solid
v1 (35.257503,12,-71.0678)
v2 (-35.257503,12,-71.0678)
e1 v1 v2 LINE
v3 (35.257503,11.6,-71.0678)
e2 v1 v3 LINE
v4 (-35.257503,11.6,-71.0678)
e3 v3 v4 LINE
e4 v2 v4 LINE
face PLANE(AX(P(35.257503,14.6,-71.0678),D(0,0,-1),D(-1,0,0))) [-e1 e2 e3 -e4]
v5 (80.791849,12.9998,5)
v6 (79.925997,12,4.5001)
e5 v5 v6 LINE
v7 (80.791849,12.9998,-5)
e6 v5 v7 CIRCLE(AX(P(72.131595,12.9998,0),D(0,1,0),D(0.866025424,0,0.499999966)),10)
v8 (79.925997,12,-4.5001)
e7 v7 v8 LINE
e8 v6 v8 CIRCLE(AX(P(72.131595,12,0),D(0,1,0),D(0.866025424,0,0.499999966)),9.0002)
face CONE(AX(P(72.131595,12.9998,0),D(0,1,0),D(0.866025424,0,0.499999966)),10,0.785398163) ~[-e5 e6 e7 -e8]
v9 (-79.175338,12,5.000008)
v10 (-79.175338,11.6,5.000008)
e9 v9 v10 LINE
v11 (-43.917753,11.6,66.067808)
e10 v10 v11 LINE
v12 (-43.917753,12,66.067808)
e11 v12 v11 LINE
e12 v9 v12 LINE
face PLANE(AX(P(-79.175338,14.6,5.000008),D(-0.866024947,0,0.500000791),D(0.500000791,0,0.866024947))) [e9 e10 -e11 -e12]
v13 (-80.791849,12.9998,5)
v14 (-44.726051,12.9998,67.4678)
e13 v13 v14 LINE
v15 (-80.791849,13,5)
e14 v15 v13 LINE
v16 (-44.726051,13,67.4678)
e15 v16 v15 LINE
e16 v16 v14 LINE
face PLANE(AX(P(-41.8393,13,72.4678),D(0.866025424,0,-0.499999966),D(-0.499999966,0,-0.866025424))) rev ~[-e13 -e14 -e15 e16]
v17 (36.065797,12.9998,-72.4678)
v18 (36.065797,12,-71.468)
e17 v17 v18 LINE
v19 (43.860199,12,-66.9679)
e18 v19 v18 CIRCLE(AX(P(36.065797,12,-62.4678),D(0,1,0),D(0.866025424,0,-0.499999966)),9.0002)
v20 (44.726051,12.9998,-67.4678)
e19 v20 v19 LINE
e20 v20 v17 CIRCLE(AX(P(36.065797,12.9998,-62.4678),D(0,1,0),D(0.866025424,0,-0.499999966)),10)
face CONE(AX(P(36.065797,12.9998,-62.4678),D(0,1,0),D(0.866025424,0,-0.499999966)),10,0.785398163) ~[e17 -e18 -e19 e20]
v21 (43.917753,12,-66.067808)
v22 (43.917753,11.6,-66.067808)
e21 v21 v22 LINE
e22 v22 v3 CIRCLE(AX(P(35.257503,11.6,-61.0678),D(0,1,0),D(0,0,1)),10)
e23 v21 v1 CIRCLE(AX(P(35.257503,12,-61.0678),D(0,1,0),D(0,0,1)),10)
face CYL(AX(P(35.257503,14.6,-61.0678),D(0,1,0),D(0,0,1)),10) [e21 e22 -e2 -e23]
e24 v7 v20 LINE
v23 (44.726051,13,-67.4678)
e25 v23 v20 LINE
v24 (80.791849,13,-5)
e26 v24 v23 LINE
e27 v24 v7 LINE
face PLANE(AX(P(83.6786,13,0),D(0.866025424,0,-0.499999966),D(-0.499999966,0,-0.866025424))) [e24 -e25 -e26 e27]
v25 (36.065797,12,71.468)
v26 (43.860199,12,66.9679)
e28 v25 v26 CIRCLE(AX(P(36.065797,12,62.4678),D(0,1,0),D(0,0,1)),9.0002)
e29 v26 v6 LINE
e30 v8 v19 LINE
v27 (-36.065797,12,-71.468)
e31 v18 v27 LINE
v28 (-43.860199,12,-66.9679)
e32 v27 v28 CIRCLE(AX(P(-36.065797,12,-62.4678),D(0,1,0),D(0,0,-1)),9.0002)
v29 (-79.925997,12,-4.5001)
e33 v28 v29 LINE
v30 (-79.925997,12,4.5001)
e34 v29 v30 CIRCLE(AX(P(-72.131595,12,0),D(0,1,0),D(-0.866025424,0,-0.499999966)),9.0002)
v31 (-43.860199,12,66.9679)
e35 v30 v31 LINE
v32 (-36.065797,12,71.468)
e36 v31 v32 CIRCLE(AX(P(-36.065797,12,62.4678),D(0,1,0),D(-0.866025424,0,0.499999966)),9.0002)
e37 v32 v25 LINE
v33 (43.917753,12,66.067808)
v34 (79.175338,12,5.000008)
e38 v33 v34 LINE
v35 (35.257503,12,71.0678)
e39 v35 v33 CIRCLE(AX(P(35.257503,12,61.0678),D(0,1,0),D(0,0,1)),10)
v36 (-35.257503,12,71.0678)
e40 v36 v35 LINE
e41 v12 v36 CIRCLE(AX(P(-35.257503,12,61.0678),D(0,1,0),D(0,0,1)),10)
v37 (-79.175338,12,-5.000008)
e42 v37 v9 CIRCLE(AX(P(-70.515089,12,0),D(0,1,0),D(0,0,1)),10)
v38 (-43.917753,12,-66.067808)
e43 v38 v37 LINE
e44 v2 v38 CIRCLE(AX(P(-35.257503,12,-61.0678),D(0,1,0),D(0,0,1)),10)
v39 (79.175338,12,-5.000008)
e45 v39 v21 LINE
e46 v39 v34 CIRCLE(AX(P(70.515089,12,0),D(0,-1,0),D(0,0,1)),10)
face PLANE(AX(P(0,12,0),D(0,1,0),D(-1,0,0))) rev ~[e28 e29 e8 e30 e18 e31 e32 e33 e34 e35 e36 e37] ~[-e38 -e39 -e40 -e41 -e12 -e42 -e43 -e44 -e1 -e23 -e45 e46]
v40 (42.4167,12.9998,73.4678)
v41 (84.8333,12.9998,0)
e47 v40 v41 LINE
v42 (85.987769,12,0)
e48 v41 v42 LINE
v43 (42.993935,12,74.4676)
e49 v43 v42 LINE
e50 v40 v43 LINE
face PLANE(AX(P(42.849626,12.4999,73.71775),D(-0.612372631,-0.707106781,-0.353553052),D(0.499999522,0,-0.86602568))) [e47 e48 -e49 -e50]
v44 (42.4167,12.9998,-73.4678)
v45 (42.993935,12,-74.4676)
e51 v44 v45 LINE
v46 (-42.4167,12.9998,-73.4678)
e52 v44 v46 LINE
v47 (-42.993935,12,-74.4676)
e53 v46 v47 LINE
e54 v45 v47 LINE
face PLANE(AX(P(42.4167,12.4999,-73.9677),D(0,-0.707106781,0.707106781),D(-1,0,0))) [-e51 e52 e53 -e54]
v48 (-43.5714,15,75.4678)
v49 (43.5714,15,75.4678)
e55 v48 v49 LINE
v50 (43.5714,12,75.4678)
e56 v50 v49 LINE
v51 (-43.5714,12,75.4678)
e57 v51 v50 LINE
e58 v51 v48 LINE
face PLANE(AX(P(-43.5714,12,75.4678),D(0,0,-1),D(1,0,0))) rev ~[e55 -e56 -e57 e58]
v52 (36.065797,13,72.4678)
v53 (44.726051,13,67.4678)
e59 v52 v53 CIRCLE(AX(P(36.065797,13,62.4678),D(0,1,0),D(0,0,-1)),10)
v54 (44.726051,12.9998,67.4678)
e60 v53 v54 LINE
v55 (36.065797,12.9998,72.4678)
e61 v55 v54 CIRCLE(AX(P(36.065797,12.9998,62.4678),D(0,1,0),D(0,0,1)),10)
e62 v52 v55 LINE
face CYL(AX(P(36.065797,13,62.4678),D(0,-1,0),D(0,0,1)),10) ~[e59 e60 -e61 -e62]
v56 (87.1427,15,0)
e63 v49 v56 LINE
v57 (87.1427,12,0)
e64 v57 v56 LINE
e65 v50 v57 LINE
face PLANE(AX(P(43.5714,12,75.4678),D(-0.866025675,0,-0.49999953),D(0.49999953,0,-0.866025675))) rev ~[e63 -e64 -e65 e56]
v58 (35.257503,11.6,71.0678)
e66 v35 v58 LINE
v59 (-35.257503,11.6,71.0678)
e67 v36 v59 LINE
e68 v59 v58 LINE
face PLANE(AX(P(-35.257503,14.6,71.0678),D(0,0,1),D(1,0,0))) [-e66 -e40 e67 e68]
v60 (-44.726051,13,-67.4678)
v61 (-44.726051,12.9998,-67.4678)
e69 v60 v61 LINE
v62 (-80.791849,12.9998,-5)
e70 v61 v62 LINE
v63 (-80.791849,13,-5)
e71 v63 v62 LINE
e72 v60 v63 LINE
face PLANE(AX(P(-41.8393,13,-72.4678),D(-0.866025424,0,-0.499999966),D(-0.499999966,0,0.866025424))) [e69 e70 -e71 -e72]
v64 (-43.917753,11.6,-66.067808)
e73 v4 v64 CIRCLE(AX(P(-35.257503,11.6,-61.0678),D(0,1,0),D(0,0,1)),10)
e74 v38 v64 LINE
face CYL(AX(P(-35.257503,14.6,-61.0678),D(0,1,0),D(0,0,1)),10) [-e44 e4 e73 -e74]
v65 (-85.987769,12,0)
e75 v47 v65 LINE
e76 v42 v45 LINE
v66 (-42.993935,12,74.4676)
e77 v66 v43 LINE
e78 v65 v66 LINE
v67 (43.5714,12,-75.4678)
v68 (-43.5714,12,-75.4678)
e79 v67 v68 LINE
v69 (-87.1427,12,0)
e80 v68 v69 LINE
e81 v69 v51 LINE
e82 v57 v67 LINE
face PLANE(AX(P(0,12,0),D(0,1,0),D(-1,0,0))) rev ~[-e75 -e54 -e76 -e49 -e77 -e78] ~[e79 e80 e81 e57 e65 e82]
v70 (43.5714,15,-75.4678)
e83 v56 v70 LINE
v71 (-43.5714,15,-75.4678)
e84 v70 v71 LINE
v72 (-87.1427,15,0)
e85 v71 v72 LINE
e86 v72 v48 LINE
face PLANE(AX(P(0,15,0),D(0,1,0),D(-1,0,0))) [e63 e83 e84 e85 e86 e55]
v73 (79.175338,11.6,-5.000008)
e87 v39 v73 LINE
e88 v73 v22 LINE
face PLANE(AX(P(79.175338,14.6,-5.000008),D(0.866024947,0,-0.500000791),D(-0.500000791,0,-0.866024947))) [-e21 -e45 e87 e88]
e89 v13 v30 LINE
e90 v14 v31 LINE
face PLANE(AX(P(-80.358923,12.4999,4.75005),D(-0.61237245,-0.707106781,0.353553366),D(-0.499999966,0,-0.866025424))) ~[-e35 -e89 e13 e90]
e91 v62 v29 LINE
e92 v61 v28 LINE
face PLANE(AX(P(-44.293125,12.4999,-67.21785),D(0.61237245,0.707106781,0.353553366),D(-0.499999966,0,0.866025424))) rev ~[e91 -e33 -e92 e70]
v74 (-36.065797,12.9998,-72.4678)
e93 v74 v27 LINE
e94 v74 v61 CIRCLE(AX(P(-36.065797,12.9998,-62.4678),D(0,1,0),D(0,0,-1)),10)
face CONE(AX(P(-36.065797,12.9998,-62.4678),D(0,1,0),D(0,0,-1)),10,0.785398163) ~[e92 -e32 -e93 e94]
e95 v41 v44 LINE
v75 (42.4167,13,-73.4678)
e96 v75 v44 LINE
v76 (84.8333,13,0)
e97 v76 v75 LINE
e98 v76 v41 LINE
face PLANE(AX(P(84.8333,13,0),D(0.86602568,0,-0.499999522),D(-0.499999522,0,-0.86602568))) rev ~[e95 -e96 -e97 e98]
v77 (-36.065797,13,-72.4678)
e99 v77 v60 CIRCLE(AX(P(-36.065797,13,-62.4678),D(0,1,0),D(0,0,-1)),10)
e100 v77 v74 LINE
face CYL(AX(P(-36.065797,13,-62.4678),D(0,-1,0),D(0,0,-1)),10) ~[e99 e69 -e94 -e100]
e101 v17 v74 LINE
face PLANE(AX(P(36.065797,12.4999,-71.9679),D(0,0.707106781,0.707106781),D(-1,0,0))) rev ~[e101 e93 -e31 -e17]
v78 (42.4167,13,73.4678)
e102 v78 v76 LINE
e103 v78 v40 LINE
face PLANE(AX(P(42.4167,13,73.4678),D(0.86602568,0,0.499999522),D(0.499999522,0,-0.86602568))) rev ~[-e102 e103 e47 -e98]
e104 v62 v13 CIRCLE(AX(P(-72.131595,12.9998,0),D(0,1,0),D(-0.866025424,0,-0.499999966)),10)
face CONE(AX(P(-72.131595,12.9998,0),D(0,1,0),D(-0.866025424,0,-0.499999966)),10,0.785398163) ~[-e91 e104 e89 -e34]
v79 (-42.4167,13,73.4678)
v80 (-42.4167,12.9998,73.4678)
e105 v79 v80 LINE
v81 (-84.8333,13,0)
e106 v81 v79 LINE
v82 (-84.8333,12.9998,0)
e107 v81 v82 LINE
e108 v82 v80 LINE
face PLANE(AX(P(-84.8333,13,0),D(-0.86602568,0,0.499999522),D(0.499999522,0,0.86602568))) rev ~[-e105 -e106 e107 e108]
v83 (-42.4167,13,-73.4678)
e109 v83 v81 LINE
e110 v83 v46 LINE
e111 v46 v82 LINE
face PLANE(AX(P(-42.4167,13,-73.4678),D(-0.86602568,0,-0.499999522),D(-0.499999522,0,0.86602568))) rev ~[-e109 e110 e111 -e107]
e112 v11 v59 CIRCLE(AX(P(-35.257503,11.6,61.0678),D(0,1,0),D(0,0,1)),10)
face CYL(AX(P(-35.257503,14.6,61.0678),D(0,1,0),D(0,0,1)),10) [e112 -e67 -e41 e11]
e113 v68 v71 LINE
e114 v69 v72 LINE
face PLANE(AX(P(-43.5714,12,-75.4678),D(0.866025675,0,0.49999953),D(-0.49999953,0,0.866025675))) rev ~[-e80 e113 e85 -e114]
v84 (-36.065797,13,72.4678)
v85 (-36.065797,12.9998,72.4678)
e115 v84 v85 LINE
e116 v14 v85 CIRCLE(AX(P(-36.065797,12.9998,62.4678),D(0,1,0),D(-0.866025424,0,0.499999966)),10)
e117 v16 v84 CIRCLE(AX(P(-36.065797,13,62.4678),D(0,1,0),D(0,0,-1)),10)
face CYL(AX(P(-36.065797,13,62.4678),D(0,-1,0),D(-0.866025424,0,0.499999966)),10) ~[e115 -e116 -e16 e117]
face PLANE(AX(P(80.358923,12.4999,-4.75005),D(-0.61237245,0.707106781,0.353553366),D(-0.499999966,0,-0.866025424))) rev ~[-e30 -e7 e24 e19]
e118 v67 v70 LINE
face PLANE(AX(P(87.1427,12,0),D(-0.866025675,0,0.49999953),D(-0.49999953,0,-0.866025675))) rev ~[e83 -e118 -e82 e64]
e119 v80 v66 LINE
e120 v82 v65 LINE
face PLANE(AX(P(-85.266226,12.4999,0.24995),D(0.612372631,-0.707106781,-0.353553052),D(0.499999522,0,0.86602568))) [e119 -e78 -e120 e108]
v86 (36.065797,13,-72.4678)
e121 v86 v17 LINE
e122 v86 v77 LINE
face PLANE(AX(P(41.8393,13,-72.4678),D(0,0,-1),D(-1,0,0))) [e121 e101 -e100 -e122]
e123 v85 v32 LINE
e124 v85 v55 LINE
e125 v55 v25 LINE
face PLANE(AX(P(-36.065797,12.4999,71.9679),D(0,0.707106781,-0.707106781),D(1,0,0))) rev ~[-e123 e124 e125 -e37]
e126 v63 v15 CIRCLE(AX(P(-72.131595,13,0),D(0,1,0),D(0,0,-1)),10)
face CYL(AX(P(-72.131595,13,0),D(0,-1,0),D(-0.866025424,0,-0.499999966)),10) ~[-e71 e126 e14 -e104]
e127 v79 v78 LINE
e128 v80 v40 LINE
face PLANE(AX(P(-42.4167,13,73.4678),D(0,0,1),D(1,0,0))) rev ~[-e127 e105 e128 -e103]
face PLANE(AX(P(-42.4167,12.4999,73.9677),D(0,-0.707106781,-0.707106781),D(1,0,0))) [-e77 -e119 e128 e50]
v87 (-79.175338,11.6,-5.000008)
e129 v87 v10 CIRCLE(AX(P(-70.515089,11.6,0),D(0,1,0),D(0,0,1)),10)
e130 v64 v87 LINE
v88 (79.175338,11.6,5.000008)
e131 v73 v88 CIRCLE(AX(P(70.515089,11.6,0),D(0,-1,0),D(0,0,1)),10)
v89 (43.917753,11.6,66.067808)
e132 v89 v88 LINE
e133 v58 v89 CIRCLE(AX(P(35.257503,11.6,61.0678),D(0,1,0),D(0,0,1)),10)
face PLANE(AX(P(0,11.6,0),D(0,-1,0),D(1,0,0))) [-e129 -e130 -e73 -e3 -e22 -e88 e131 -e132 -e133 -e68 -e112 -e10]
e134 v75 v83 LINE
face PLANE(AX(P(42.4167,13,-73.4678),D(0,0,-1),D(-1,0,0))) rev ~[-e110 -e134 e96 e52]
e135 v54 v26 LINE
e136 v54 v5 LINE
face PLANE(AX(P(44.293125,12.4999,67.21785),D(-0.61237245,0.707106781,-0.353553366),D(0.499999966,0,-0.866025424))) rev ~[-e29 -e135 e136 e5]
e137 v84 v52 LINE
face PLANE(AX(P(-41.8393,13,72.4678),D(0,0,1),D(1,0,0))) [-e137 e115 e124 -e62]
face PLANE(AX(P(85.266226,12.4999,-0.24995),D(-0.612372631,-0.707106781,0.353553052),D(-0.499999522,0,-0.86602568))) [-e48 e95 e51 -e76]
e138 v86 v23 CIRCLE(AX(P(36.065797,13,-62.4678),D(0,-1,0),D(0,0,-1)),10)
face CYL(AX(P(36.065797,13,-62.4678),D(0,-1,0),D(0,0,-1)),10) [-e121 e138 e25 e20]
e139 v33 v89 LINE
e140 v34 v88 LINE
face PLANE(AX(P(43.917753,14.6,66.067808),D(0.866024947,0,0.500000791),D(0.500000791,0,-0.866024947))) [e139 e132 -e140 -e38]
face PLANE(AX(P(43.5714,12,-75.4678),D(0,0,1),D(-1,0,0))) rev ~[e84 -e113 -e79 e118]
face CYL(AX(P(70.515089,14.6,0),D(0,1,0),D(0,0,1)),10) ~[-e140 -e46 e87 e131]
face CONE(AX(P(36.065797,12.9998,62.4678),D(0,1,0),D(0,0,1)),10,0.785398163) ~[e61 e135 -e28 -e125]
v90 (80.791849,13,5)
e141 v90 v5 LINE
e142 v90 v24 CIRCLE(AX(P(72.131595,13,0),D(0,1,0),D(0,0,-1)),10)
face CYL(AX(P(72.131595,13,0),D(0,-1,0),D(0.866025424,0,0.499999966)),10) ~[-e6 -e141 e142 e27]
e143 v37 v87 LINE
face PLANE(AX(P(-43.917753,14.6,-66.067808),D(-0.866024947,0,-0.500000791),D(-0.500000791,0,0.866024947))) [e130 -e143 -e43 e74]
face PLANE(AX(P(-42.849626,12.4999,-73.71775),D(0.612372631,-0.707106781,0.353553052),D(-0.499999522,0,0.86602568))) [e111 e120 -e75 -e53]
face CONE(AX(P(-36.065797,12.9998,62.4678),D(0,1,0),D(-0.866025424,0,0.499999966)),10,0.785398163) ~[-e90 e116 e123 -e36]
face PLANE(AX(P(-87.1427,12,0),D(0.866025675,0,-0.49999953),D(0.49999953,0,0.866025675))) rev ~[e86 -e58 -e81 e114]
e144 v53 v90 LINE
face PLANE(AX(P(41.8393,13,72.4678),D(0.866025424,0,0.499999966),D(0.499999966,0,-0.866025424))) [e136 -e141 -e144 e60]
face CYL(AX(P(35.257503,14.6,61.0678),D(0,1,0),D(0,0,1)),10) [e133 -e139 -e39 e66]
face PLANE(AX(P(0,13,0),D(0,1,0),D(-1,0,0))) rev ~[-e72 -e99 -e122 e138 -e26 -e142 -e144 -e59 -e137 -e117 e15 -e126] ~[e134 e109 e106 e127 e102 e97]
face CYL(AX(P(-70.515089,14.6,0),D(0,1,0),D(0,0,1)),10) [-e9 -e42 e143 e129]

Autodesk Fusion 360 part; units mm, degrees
sketch "Sketch1" plane through (0, 12, 0) normal (0, -1, 0) x (1, 0, 0)
  line L0 (-41.8393, 72.4678) -> (-83.6786, 0)
  line L1 (-83.6786, 0) -> (-41.8393, -72.4678)
  line L2 (-41.8393, -72.4678) -> (41.8393, -72.4678)
  line L3 (41.8393, -72.4678) -> (83.6786, 0)
  line L4 (83.6786, 0) -> (41.8393, 72.4678)
  line L5 (41.8393, 72.4678) -> (-41.8393, 72.4678)
  line L6 (-41.8393, 72.4678) -> (41.8393, 72.4678)
  line L7 (41.8393, 72.4678) -> (83.6786, 0)
  line L8 (83.6786, 0) -> (41.8393, -72.4678)
  line L9 (41.8393, -72.4678) -> (-41.8393, -72.4678)
  line L10 (-41.8393, -72.4678) -> (-83.6786, 0)
  line L11 (-83.6786, 0) -> (-41.8393, 72.4678)
  line L12 (82.0621, 0) -> (41.031, -71.0678)
  line L13 (41.031, -71.0678) -> (-41.031, -71.0678)
  line L14 (-41.031, -71.0678) -> (-82.0621, 0)
  line L15 (-82.0621, 0) -> (-41.031, 71.0678)
  line L16 (-41.031, 71.0678) -> (41.031, 71.0678)
  line L17 (41.031, 71.0678) -> (82.0621, 0)
  dimension "d1" = 1.4
sketch "Sketch2" plane through (0, 12, 0) normal (0, 1, 0) x (-1, 0, 0)
  line L0 (-42.4167, 73.4678) -> (42.4167, 73.4678)
  line L1 (42.4167, 73.4678) -> (84.8333, 0)
  line L2 (84.8333, 0) -> (42.4167, -73.4678)
  line L3 (42.4167, -73.4678) -> (-42.4167, -73.4678)
  line L4 (-42.4167, -73.4678) -> (-84.8333, 0)
  line L5 (-84.8333, 0) -> (-42.4167, 73.4678)
  line L6 (-43.5714, 75.4678) -> (-87.1427, 0)
  line L7 (-87.1427, 0) -> (-43.5714, -75.4678)
  line L8 (-43.5714, -75.4678) -> (43.5714, -75.4678)
  line L9 (43.5714, -75.4678) -> (87.1427, 0)
  line L10 (87.1427, 0) -> (43.5714, 75.4678)
  line L11 (43.5714, 75.4678) -> (-43.5714, 75.4678)
  line L12 (-43.5714, 75.4678) -> (43.5714, 75.4678)
  line L13 (87.1427, 0) -> (43.5714, 75.4678)
  line L14 (87.1427, 0) -> (43.5714, -75.4678)
  line L15 (43.5714, -75.4678) -> (-43.5714, -75.4678)
  line L16 (-43.5714, -75.4678) -> (-87.1427, 0)
  line L17 (-87.1427, 0) -> (-43.5714, 75.4678)
sketch "Sketch3" plane through (0, 4, 0) normal (0, 1, 0) x (-1, 0, 0)
  line L0 (-38.9526, -67.4678) -> (-77.9051, 0)
  line L1 (-77.9051, 0) -> (-38.9526, 67.4678)
  line L2 (-38.9526, 67.4678) -> (38.9526, 67.4678)
  line L3 (38.9526, 67.4678) -> (77.9051, 0)
  line L4 (77.9051, 0) -> (38.9526, -67.4678)
  line L5 (38.9526, -67.4678) -> (-38.9526, -67.4678)
  line L6 (-84.8333, 0) -> (-42.4167, -73.4678)
  line L7 (-42.4167, -73.4678) -> (42.4167, -73.4678)
  line L8 (42.4167, -73.4678) -> (84.8333, 0)
  line L9 (84.8333, 0) -> (42.4167, 73.4678)
  line L10 (42.4167, 73.4678) -> (-42.4167, 73.4678)
  line L11 (-42.4167, 73.4678) -> (-84.8333, 0)
  line L12 (42.4167, -73.4678) -> (84.8333, 0)
  line L13 (42.4167, 73.4678) -> (84.8333, 0)
  line L14 (42.4167, 73.4678) -> (-42.4167, 73.4678)
  line L15 (-42.4167, 73.4678) -> (-84.8333, 0)
  line L16 (-84.8333, 0) -> (-42.4167, -73.4678)
  line L17 (-42.4167, -73.4678) -> (42.4167, -73.4678)
  line L18 (-42.4167, 73.4678) -> (-84.8333, 0)
  line L19 (-41.8393, -72.4678) -> (41.8393, -72.4678)
  line L20 (41.8393, -72.4678) -> (83.6786, 0)
  line L21 (41.8393, 72.4678) -> (83.6786, 0)
  line L22 (41.8393, 72.4678) -> (-41.8393, 72.4678)
  line L23 (-41.8393, 72.4678) -> (-83.6786, 0)
  line L24 (-83.6786, 0) -> (-41.8393, -72.4678)
  line L25 (41.031, 71.0678) -> (-41.031, 71.0678)
  line L26 (-41.031, 71.0678) -> (-82.0621, 0)
  line L27 (-82.0621, 0) -> (-41.031, -71.0678)
  line L28 (-41.031, -71.0678) -> (41.031, -71.0678)
  line L29 (41.031, -71.0678) -> (82.0621, 0)
  line L30 (41.031, 71.0678) -> (82.0621, 0)
  dimension "d2" = -1
  dimension "d3" = -2.4
sketch "Sketch4" plane through (0, 13, 0) normal (0, -1, 0) x (1, 0, 0)
  arc A0 (44.7261, 67.4678) -> (36.0658, 72.4678) centre (36.0658, 62.4678) ccw
  line L0 (44.7261, 67.4678) -> (80.7919, 5)
  arc A1 (80.7919, -5) -> (80.7919, 5) centre (72.1316, 0) ccw
  line L1 (80.7919, -5) -> (44.7261, -67.4678)
  arc A2 (36.0658, -72.4678) -> (44.7261, -67.4678) centre (36.0658, -62.4678) ccw
  line L2 (36.0658, -72.4678) -> (-36.0658, -72.4678)
  arc A3 (-44.7261, -67.4678) -> (-36.0658, -72.4678) centre (-36.0658, -62.4678) ccw
  line L3 (-44.7261, -67.4678) -> (-80.7919, -5)
  arc A4 (-80.7919, 5) -> (-80.7919, -5) centre (-72.1316, 0) ccw
  line L4 (-80.7919, 5) -> (-44.7261, 67.4678)
  arc A5 (-36.0658, 72.4678) -> (-44.7261, 67.4678) centre (-36.0658, 62.4678) ccw
  line L5 (-36.0658, 72.4678) -> (36.0658, 72.4678)
  line L6 (42.4167, 73.4678) -> (-42.4167, 73.4678)
  line L7 (-42.4167, 73.4678) -> (-84.8333, 0)
  line L8 (-84.8333, 0) -> (-42.4167, -73.4678)
  line L9 (-42.4167, -73.4678) -> (42.4167, -73.4678)
  line L10 (42.4167, -73.4678) -> (84.8333, 0)
  line L11 (84.8333, 0) -> (42.4167, 73.4678)
  line L12 (-42.4167, 73.4678) -> (-32.4167, 73.4678)
  line L13 (-42.4167, 73.4678) -> (-47.4167, 64.8076)
  line L14 (-32.4167, 73.4678) -> (-32.4167, 56.1473)
  line L15 (-47.4167, 64.8076) -> (-32.4167, 56.1473)
  dimension "d4" = 10
  dimension "d5" = 0
extrude "Extrude1" add sketch "Sketch2" along normal blind 3 contours L0 L1 L2 L3 L4 L5 | L6 L7 L8 L9 L10 L11 L12 L13 L14 L15 L16 L17
extrude "Extrude2" cut sketch "Sketch3" along normal blind -1 and the other way blind -9 contours L6 L7 L8 L9 L10 L11 L12 L13 L14 L15 L16 L17 L18
move_face "OffsetFaces1" [suppressed]
extrude "Extrude3" cut sketch "Sketch1" against normal blind 2.6 contours L12 L13 L14 L15 L16 L17
fillet "Fillet1" radius 10 6 edges at (-83.6786, 12.5, 0) (-41.8393, 12.5, 72.4678) (41.8393, 12.5, 72.4678) (83.6786, 12.5, 0) (41.8393, 12.5, -72.4678) (-41.8393, 12.5, -72.4678)
fillet "Fillet1" radius 10 6 edges at (-41.031, 13.3, 71.0678) (-82.0621, 13.3, 0) (-41.031, 13.3, -71.0678) (41.031, 13.3, -71.0678) (82.0621, 13.3, 0) (41.031, 13.3, 71.0678)
chamfer "Chamfer1" distance 1 angle 45 18 edges at (63.625, 12, 36.7339) (63.625, 12, -36.7339) (82.1316, 12, 0) (62.759, 12, -36.2339) (41.0658, 12, -71.1281) (0, 12, -72.4678) (-41.0658, 12, -71.1281) (-62.759, 12, -36.2339) (-82.1316, 12, 0) (-62.759, 12, 36.2339) (-41.0658, 12, 71.1281) (0, 12, 72.4678) (41.0658, 12, 71.1281) (62.759, 12, 36.2339) (0, 12, 73.4678) (-63.625, 12, 36.7339) (-63.625, 12, -36.7339) (0, 12, -73.4678)
sketch "Sketch5" plane through (0, 14.6, 0) normal (0, -1, 0) x (1, 0, 0)
  arc A0 (43.9178, 66.0678) -> (35.2575, 71.0678) centre (35.2575, 61.0678) ccw
  line L0 (35.2575, 71.0678) -> (-35.2575, 71.0678)
  arc A1 (-35.2575, 71.0678) -> (-43.9178, 66.0678) centre (-35.2575, 61.0678) ccw
  line L1 (-43.9178, 66.0678) -> (-79.1753, 5)
  arc A2 (-79.1753, 5) -> (-79.1753, -5) centre (-70.515, 0) ccw
  line L2 (-79.1753, -5) -> (-43.9178, -66.0678)
  arc A3 (-43.9178, -66.0678) -> (-35.2575, -71.0678) centre (-35.2575, -61.0678) ccw
  line L3 (-35.2575, -71.0678) -> (35.2575, -71.0678)
  arc A4 (35.2575, -71.0678) -> (43.9178, -66.0678) centre (35.2575, -61.0678) ccw
  line L4 (43.9178, -66.0678) -> (79.1753, -5)
  arc A5 (79.1753, -5) -> (79.1753, 5) centre (70.515, 0) ccw
  line L5 (79.1753, 5) -> (43.9178, 66.0678)
  line L6 (0, 0) -> (-80.515, 0)
  line L7 (-40.2575, 69.7281) -> (0, 0)
  line L8 (40.2575, 69.7281) -> (-40.2575, -69.7281)
  line L9 (40.2575, -69.7281) -> (0, 0)
  line L10 (80.515, 0) -> (0, 0)
extrude "Extrude11" add 1 faces at (2.8868, 14.6, -1.6667) along direction (0, -1, 0) blind 3
extrude "Extrude5" [suppressed]
extrude "Extrude6" [suppressed]
extrude "Extrude7" [suppressed]
extrude "Extrude8" [suppressed]
extrude "Extrude9" [suppressed]
sketch "Sketch6" plane through (0, 12, 0) normal (0, -1, 0) x (1, 0, 0)
  line L0 (-35.2575, 71.0678) -> (35.2575, 71.0678)
  arc A0 (43.9178, 66.0678) -> (35.2575, 71.0678) centre (35.2575, 61.0678) ccw
  line L1 (43.9178, 66.0678) -> (79.1753, 5)
  arc A1 (79.1753, -5) -> (79.1753, 5) centre (70.515, 0) ccw
  line L2 (79.1753, -5) -> (43.9178, -66.0678)
  arc A2 (35.2575, -71.0678) -> (43.9178, -66.0678) centre (35.2575, -61.0678) ccw
  line L3 (35.2575, -71.0678) -> (-35.2575, -71.0678)
  arc A3 (-43.9178, -66.0678) -> (-35.2575, -71.0678) centre (-35.2575, -61.0678) ccw
  line L4 (-43.9178, -66.0678) -> (-79.1753, -5)
  arc A4 (-79.1753, 5) -> (-79.1753, -5) centre (-70.515, 0) ccw
  line L5 (-79.1753, 5) -> (-43.9178, 66.0678)
  line L6 (-43.86, 66.9678) -> (-79.9259, 4.5)
  arc A5 (-79.9259, 4.5) -> (-79.9259, -4.5) centre (-72.1316, 0) ccw
  line L7 (-79.9259, -4.5) -> (-43.86, -66.9678)
  arc A6 (-43.86, -66.9678) -> (-36.0658, -71.4678) centre (-36.0658, -62.4678) ccw
  line L8 (-36.0658, -71.4678) -> (36.0658, -71.4678)
  arc A7 (36.0658, -71.4678) -> (43.86, -66.9678) centre (36.0658, -62.4678) ccw
  line L9 (43.86, -66.9678) -> (79.9259, -4.5)
  arc A8 (79.9259, -4.5) -> (79.9259, 4.5) centre (72.1316, 0) ccw
  line L10 (79.9259, 4.5) -> (43.86, 66.9678)
  arc A9 (43.86, 66.9678) -> (36.0658, 71.4678) centre (36.0658, 62.4678) ccw
  line L11 (36.0658, 71.4678) -> (-36.0658, 71.4678)
  arc A10 (-35.2575, 71.0678) -> (-43.9178, 66.0678) centre (-35.2575, 61.0678) ccw
  arc A11 (-36.0658, 71.4678) -> (-43.86, 66.9678) centre (-36.0658, 62.4678) ccw
  line L12 (-79.1753, 5) -> (-43.9178, 66.0678)
  arc A12 (-35.2575, 71.0678) -> (-43.9178, 66.0678) centre (-35.2575, 61.0678) ccw
  line L13 (-35.2575, 71.0678) -> (35.2575, 71.0678)
  arc A13 (43.9178, 66.0678) -> (35.2575, 71.0678) centre (35.2575, 61.0678) ccw
  line L14 (43.9178, 66.0678) -> (79.1753, 5)
  arc A14 (79.1753, -5) -> (79.1753, 5) centre (70.515, 0) ccw
  line L15 (79.1753, -5) -> (43.9178, -66.0678)
  arc A15 (35.2575, -71.0678) -> (43.9178, -66.0678) centre (35.2575, -61.0678) ccw
  line L16 (35.2575, -71.0678) -> (-35.2575, -71.0678)
  arc A16 (-43.9178, -66.0678) -> (-35.2575, -71.0678) centre (-35.2575, -61.0678) ccw
  line L17 (-43.9178, -66.0678) -> (-79.1753, -5)
  arc A17 (-79.1753, 5) -> (-79.1753, -5) centre (-70.515, 0) ccw
  arc A18 (79.9259, -4.5) -> (79.9259, 4.5) centre (72.1316, 0) ccw
  line L18 (79.9259, 4.5) -> (43.86, 66.9678)
  arc A19 (43.86, 66.9678) -> (36.0658, 71.4678) centre (36.0658, 62.4678) ccw
  line L19 (36.0658, 71.4678) -> (-36.0658, 71.4678)
  arc A20 (-36.0658, 71.4678) -> (-43.86, 66.9678) centre (-36.0658, 62.4678) ccw
  line L20 (-43.86, 66.9678) -> (-79.9259, 4.5)
  arc A21 (-79.9259, 4.5) -> (-79.9259, -4.5) centre (-72.1316, 0) ccw
  line L21 (-79.9259, -4.5) -> (-43.86, -66.9678)
  arc A22 (-43.86, -66.9678) -> (-36.0658, -71.4678) centre (-36.0658, -62.4678) ccw
  line L22 (-36.0658, -71.4678) -> (36.0658, -71.4678)
  arc A23 (36.0658, -71.4678) -> (43.86, -66.9678) centre (36.0658, -62.4678) ccw
  line L23 (43.86, -66.9678) -> (79.9259, -4.5)
  arc A24 (42.8785, 65.4678) -> (35.2575, 69.8678) centre (35.2575, 61.0678) ccw
  line L24 (-35.2575, 69.8678) -> (35.2575, 69.8678)
  arc A25 (-35.2575, 69.8678) -> (-42.8785, 65.4678) centre (-35.2575, 61.0678) ccw
  line L25 (-78.1361, 4.4) -> (-42.8785, 65.4678)
  arc A26 (-78.1361, 4.4) -> (-78.1361, -4.4) centre (-70.515, 0) ccw
  line L26 (-42.8785, -65.4678) -> (-78.1361, -4.4)
  arc A27 (-42.8785, -65.4678) -> (-35.2575, -69.8678) centre (-35.2575, -61.0678) ccw
  line L27 (35.2575, -69.8678) -> (-35.2575, -69.8678)
  arc A28 (35.2575, -69.8678) -> (42.8785, -65.4678) centre (35.2575, -61.0678) ccw
  line L28 (78.1361, -4.4) -> (42.8785, -65.4678)
  arc A29 (78.1361, -4.4) -> (78.1361, 4.4) centre (70.515, 0) ccw
  line L29 (42.8785, 65.4678) -> (78.1361, 4.4)
  arc A30 (-35.2575, 70.0678) -> (-43.0518, 65.5678) centre (-35.2575, 61.0678) ccw
  line L30 (-78.3093, 4.5) -> (-43.0518, 65.5678)
  arc A31 (-78.3093, 4.5) -> (-78.3093, -4.5) centre (-70.515, 0) ccw
  line L31 (-43.0518, -65.5678) -> (-78.3093, -4.5)
  arc A32 (-43.0518, -65.5678) -> (-35.2575, -70.0678) centre (-35.2575, -61.0678) ccw
  line L32 (35.2575, -70.0678) -> (-35.2575, -70.0678)
  arc A33 (35.2575, -70.0678) -> (43.0518, -65.5678) centre (35.2575, -61.0678) ccw
  line L33 (78.3093, -4.5) -> (43.0518, -65.5678)
  arc A34 (78.3093, -4.5) -> (78.3093, 4.5) centre (70.515, 0) ccw
  line L34 (43.0518, 65.5678) -> (78.3093, 4.5)
  arc A35 (43.0518, 65.5678) -> (35.2575, 70.0678) centre (35.2575, 61.0678) ccw
  line L35 (-35.2575, 70.0678) -> (35.2575, 70.0678)
  dimension "d16" = 1.2
  dimension "d17" = 1
extrude "Extrude10" [suppressed]
extrude "Extrude4" [suppressed]
chamfer "Chamfer2" [suppressed]
equation "d5 = d154"
